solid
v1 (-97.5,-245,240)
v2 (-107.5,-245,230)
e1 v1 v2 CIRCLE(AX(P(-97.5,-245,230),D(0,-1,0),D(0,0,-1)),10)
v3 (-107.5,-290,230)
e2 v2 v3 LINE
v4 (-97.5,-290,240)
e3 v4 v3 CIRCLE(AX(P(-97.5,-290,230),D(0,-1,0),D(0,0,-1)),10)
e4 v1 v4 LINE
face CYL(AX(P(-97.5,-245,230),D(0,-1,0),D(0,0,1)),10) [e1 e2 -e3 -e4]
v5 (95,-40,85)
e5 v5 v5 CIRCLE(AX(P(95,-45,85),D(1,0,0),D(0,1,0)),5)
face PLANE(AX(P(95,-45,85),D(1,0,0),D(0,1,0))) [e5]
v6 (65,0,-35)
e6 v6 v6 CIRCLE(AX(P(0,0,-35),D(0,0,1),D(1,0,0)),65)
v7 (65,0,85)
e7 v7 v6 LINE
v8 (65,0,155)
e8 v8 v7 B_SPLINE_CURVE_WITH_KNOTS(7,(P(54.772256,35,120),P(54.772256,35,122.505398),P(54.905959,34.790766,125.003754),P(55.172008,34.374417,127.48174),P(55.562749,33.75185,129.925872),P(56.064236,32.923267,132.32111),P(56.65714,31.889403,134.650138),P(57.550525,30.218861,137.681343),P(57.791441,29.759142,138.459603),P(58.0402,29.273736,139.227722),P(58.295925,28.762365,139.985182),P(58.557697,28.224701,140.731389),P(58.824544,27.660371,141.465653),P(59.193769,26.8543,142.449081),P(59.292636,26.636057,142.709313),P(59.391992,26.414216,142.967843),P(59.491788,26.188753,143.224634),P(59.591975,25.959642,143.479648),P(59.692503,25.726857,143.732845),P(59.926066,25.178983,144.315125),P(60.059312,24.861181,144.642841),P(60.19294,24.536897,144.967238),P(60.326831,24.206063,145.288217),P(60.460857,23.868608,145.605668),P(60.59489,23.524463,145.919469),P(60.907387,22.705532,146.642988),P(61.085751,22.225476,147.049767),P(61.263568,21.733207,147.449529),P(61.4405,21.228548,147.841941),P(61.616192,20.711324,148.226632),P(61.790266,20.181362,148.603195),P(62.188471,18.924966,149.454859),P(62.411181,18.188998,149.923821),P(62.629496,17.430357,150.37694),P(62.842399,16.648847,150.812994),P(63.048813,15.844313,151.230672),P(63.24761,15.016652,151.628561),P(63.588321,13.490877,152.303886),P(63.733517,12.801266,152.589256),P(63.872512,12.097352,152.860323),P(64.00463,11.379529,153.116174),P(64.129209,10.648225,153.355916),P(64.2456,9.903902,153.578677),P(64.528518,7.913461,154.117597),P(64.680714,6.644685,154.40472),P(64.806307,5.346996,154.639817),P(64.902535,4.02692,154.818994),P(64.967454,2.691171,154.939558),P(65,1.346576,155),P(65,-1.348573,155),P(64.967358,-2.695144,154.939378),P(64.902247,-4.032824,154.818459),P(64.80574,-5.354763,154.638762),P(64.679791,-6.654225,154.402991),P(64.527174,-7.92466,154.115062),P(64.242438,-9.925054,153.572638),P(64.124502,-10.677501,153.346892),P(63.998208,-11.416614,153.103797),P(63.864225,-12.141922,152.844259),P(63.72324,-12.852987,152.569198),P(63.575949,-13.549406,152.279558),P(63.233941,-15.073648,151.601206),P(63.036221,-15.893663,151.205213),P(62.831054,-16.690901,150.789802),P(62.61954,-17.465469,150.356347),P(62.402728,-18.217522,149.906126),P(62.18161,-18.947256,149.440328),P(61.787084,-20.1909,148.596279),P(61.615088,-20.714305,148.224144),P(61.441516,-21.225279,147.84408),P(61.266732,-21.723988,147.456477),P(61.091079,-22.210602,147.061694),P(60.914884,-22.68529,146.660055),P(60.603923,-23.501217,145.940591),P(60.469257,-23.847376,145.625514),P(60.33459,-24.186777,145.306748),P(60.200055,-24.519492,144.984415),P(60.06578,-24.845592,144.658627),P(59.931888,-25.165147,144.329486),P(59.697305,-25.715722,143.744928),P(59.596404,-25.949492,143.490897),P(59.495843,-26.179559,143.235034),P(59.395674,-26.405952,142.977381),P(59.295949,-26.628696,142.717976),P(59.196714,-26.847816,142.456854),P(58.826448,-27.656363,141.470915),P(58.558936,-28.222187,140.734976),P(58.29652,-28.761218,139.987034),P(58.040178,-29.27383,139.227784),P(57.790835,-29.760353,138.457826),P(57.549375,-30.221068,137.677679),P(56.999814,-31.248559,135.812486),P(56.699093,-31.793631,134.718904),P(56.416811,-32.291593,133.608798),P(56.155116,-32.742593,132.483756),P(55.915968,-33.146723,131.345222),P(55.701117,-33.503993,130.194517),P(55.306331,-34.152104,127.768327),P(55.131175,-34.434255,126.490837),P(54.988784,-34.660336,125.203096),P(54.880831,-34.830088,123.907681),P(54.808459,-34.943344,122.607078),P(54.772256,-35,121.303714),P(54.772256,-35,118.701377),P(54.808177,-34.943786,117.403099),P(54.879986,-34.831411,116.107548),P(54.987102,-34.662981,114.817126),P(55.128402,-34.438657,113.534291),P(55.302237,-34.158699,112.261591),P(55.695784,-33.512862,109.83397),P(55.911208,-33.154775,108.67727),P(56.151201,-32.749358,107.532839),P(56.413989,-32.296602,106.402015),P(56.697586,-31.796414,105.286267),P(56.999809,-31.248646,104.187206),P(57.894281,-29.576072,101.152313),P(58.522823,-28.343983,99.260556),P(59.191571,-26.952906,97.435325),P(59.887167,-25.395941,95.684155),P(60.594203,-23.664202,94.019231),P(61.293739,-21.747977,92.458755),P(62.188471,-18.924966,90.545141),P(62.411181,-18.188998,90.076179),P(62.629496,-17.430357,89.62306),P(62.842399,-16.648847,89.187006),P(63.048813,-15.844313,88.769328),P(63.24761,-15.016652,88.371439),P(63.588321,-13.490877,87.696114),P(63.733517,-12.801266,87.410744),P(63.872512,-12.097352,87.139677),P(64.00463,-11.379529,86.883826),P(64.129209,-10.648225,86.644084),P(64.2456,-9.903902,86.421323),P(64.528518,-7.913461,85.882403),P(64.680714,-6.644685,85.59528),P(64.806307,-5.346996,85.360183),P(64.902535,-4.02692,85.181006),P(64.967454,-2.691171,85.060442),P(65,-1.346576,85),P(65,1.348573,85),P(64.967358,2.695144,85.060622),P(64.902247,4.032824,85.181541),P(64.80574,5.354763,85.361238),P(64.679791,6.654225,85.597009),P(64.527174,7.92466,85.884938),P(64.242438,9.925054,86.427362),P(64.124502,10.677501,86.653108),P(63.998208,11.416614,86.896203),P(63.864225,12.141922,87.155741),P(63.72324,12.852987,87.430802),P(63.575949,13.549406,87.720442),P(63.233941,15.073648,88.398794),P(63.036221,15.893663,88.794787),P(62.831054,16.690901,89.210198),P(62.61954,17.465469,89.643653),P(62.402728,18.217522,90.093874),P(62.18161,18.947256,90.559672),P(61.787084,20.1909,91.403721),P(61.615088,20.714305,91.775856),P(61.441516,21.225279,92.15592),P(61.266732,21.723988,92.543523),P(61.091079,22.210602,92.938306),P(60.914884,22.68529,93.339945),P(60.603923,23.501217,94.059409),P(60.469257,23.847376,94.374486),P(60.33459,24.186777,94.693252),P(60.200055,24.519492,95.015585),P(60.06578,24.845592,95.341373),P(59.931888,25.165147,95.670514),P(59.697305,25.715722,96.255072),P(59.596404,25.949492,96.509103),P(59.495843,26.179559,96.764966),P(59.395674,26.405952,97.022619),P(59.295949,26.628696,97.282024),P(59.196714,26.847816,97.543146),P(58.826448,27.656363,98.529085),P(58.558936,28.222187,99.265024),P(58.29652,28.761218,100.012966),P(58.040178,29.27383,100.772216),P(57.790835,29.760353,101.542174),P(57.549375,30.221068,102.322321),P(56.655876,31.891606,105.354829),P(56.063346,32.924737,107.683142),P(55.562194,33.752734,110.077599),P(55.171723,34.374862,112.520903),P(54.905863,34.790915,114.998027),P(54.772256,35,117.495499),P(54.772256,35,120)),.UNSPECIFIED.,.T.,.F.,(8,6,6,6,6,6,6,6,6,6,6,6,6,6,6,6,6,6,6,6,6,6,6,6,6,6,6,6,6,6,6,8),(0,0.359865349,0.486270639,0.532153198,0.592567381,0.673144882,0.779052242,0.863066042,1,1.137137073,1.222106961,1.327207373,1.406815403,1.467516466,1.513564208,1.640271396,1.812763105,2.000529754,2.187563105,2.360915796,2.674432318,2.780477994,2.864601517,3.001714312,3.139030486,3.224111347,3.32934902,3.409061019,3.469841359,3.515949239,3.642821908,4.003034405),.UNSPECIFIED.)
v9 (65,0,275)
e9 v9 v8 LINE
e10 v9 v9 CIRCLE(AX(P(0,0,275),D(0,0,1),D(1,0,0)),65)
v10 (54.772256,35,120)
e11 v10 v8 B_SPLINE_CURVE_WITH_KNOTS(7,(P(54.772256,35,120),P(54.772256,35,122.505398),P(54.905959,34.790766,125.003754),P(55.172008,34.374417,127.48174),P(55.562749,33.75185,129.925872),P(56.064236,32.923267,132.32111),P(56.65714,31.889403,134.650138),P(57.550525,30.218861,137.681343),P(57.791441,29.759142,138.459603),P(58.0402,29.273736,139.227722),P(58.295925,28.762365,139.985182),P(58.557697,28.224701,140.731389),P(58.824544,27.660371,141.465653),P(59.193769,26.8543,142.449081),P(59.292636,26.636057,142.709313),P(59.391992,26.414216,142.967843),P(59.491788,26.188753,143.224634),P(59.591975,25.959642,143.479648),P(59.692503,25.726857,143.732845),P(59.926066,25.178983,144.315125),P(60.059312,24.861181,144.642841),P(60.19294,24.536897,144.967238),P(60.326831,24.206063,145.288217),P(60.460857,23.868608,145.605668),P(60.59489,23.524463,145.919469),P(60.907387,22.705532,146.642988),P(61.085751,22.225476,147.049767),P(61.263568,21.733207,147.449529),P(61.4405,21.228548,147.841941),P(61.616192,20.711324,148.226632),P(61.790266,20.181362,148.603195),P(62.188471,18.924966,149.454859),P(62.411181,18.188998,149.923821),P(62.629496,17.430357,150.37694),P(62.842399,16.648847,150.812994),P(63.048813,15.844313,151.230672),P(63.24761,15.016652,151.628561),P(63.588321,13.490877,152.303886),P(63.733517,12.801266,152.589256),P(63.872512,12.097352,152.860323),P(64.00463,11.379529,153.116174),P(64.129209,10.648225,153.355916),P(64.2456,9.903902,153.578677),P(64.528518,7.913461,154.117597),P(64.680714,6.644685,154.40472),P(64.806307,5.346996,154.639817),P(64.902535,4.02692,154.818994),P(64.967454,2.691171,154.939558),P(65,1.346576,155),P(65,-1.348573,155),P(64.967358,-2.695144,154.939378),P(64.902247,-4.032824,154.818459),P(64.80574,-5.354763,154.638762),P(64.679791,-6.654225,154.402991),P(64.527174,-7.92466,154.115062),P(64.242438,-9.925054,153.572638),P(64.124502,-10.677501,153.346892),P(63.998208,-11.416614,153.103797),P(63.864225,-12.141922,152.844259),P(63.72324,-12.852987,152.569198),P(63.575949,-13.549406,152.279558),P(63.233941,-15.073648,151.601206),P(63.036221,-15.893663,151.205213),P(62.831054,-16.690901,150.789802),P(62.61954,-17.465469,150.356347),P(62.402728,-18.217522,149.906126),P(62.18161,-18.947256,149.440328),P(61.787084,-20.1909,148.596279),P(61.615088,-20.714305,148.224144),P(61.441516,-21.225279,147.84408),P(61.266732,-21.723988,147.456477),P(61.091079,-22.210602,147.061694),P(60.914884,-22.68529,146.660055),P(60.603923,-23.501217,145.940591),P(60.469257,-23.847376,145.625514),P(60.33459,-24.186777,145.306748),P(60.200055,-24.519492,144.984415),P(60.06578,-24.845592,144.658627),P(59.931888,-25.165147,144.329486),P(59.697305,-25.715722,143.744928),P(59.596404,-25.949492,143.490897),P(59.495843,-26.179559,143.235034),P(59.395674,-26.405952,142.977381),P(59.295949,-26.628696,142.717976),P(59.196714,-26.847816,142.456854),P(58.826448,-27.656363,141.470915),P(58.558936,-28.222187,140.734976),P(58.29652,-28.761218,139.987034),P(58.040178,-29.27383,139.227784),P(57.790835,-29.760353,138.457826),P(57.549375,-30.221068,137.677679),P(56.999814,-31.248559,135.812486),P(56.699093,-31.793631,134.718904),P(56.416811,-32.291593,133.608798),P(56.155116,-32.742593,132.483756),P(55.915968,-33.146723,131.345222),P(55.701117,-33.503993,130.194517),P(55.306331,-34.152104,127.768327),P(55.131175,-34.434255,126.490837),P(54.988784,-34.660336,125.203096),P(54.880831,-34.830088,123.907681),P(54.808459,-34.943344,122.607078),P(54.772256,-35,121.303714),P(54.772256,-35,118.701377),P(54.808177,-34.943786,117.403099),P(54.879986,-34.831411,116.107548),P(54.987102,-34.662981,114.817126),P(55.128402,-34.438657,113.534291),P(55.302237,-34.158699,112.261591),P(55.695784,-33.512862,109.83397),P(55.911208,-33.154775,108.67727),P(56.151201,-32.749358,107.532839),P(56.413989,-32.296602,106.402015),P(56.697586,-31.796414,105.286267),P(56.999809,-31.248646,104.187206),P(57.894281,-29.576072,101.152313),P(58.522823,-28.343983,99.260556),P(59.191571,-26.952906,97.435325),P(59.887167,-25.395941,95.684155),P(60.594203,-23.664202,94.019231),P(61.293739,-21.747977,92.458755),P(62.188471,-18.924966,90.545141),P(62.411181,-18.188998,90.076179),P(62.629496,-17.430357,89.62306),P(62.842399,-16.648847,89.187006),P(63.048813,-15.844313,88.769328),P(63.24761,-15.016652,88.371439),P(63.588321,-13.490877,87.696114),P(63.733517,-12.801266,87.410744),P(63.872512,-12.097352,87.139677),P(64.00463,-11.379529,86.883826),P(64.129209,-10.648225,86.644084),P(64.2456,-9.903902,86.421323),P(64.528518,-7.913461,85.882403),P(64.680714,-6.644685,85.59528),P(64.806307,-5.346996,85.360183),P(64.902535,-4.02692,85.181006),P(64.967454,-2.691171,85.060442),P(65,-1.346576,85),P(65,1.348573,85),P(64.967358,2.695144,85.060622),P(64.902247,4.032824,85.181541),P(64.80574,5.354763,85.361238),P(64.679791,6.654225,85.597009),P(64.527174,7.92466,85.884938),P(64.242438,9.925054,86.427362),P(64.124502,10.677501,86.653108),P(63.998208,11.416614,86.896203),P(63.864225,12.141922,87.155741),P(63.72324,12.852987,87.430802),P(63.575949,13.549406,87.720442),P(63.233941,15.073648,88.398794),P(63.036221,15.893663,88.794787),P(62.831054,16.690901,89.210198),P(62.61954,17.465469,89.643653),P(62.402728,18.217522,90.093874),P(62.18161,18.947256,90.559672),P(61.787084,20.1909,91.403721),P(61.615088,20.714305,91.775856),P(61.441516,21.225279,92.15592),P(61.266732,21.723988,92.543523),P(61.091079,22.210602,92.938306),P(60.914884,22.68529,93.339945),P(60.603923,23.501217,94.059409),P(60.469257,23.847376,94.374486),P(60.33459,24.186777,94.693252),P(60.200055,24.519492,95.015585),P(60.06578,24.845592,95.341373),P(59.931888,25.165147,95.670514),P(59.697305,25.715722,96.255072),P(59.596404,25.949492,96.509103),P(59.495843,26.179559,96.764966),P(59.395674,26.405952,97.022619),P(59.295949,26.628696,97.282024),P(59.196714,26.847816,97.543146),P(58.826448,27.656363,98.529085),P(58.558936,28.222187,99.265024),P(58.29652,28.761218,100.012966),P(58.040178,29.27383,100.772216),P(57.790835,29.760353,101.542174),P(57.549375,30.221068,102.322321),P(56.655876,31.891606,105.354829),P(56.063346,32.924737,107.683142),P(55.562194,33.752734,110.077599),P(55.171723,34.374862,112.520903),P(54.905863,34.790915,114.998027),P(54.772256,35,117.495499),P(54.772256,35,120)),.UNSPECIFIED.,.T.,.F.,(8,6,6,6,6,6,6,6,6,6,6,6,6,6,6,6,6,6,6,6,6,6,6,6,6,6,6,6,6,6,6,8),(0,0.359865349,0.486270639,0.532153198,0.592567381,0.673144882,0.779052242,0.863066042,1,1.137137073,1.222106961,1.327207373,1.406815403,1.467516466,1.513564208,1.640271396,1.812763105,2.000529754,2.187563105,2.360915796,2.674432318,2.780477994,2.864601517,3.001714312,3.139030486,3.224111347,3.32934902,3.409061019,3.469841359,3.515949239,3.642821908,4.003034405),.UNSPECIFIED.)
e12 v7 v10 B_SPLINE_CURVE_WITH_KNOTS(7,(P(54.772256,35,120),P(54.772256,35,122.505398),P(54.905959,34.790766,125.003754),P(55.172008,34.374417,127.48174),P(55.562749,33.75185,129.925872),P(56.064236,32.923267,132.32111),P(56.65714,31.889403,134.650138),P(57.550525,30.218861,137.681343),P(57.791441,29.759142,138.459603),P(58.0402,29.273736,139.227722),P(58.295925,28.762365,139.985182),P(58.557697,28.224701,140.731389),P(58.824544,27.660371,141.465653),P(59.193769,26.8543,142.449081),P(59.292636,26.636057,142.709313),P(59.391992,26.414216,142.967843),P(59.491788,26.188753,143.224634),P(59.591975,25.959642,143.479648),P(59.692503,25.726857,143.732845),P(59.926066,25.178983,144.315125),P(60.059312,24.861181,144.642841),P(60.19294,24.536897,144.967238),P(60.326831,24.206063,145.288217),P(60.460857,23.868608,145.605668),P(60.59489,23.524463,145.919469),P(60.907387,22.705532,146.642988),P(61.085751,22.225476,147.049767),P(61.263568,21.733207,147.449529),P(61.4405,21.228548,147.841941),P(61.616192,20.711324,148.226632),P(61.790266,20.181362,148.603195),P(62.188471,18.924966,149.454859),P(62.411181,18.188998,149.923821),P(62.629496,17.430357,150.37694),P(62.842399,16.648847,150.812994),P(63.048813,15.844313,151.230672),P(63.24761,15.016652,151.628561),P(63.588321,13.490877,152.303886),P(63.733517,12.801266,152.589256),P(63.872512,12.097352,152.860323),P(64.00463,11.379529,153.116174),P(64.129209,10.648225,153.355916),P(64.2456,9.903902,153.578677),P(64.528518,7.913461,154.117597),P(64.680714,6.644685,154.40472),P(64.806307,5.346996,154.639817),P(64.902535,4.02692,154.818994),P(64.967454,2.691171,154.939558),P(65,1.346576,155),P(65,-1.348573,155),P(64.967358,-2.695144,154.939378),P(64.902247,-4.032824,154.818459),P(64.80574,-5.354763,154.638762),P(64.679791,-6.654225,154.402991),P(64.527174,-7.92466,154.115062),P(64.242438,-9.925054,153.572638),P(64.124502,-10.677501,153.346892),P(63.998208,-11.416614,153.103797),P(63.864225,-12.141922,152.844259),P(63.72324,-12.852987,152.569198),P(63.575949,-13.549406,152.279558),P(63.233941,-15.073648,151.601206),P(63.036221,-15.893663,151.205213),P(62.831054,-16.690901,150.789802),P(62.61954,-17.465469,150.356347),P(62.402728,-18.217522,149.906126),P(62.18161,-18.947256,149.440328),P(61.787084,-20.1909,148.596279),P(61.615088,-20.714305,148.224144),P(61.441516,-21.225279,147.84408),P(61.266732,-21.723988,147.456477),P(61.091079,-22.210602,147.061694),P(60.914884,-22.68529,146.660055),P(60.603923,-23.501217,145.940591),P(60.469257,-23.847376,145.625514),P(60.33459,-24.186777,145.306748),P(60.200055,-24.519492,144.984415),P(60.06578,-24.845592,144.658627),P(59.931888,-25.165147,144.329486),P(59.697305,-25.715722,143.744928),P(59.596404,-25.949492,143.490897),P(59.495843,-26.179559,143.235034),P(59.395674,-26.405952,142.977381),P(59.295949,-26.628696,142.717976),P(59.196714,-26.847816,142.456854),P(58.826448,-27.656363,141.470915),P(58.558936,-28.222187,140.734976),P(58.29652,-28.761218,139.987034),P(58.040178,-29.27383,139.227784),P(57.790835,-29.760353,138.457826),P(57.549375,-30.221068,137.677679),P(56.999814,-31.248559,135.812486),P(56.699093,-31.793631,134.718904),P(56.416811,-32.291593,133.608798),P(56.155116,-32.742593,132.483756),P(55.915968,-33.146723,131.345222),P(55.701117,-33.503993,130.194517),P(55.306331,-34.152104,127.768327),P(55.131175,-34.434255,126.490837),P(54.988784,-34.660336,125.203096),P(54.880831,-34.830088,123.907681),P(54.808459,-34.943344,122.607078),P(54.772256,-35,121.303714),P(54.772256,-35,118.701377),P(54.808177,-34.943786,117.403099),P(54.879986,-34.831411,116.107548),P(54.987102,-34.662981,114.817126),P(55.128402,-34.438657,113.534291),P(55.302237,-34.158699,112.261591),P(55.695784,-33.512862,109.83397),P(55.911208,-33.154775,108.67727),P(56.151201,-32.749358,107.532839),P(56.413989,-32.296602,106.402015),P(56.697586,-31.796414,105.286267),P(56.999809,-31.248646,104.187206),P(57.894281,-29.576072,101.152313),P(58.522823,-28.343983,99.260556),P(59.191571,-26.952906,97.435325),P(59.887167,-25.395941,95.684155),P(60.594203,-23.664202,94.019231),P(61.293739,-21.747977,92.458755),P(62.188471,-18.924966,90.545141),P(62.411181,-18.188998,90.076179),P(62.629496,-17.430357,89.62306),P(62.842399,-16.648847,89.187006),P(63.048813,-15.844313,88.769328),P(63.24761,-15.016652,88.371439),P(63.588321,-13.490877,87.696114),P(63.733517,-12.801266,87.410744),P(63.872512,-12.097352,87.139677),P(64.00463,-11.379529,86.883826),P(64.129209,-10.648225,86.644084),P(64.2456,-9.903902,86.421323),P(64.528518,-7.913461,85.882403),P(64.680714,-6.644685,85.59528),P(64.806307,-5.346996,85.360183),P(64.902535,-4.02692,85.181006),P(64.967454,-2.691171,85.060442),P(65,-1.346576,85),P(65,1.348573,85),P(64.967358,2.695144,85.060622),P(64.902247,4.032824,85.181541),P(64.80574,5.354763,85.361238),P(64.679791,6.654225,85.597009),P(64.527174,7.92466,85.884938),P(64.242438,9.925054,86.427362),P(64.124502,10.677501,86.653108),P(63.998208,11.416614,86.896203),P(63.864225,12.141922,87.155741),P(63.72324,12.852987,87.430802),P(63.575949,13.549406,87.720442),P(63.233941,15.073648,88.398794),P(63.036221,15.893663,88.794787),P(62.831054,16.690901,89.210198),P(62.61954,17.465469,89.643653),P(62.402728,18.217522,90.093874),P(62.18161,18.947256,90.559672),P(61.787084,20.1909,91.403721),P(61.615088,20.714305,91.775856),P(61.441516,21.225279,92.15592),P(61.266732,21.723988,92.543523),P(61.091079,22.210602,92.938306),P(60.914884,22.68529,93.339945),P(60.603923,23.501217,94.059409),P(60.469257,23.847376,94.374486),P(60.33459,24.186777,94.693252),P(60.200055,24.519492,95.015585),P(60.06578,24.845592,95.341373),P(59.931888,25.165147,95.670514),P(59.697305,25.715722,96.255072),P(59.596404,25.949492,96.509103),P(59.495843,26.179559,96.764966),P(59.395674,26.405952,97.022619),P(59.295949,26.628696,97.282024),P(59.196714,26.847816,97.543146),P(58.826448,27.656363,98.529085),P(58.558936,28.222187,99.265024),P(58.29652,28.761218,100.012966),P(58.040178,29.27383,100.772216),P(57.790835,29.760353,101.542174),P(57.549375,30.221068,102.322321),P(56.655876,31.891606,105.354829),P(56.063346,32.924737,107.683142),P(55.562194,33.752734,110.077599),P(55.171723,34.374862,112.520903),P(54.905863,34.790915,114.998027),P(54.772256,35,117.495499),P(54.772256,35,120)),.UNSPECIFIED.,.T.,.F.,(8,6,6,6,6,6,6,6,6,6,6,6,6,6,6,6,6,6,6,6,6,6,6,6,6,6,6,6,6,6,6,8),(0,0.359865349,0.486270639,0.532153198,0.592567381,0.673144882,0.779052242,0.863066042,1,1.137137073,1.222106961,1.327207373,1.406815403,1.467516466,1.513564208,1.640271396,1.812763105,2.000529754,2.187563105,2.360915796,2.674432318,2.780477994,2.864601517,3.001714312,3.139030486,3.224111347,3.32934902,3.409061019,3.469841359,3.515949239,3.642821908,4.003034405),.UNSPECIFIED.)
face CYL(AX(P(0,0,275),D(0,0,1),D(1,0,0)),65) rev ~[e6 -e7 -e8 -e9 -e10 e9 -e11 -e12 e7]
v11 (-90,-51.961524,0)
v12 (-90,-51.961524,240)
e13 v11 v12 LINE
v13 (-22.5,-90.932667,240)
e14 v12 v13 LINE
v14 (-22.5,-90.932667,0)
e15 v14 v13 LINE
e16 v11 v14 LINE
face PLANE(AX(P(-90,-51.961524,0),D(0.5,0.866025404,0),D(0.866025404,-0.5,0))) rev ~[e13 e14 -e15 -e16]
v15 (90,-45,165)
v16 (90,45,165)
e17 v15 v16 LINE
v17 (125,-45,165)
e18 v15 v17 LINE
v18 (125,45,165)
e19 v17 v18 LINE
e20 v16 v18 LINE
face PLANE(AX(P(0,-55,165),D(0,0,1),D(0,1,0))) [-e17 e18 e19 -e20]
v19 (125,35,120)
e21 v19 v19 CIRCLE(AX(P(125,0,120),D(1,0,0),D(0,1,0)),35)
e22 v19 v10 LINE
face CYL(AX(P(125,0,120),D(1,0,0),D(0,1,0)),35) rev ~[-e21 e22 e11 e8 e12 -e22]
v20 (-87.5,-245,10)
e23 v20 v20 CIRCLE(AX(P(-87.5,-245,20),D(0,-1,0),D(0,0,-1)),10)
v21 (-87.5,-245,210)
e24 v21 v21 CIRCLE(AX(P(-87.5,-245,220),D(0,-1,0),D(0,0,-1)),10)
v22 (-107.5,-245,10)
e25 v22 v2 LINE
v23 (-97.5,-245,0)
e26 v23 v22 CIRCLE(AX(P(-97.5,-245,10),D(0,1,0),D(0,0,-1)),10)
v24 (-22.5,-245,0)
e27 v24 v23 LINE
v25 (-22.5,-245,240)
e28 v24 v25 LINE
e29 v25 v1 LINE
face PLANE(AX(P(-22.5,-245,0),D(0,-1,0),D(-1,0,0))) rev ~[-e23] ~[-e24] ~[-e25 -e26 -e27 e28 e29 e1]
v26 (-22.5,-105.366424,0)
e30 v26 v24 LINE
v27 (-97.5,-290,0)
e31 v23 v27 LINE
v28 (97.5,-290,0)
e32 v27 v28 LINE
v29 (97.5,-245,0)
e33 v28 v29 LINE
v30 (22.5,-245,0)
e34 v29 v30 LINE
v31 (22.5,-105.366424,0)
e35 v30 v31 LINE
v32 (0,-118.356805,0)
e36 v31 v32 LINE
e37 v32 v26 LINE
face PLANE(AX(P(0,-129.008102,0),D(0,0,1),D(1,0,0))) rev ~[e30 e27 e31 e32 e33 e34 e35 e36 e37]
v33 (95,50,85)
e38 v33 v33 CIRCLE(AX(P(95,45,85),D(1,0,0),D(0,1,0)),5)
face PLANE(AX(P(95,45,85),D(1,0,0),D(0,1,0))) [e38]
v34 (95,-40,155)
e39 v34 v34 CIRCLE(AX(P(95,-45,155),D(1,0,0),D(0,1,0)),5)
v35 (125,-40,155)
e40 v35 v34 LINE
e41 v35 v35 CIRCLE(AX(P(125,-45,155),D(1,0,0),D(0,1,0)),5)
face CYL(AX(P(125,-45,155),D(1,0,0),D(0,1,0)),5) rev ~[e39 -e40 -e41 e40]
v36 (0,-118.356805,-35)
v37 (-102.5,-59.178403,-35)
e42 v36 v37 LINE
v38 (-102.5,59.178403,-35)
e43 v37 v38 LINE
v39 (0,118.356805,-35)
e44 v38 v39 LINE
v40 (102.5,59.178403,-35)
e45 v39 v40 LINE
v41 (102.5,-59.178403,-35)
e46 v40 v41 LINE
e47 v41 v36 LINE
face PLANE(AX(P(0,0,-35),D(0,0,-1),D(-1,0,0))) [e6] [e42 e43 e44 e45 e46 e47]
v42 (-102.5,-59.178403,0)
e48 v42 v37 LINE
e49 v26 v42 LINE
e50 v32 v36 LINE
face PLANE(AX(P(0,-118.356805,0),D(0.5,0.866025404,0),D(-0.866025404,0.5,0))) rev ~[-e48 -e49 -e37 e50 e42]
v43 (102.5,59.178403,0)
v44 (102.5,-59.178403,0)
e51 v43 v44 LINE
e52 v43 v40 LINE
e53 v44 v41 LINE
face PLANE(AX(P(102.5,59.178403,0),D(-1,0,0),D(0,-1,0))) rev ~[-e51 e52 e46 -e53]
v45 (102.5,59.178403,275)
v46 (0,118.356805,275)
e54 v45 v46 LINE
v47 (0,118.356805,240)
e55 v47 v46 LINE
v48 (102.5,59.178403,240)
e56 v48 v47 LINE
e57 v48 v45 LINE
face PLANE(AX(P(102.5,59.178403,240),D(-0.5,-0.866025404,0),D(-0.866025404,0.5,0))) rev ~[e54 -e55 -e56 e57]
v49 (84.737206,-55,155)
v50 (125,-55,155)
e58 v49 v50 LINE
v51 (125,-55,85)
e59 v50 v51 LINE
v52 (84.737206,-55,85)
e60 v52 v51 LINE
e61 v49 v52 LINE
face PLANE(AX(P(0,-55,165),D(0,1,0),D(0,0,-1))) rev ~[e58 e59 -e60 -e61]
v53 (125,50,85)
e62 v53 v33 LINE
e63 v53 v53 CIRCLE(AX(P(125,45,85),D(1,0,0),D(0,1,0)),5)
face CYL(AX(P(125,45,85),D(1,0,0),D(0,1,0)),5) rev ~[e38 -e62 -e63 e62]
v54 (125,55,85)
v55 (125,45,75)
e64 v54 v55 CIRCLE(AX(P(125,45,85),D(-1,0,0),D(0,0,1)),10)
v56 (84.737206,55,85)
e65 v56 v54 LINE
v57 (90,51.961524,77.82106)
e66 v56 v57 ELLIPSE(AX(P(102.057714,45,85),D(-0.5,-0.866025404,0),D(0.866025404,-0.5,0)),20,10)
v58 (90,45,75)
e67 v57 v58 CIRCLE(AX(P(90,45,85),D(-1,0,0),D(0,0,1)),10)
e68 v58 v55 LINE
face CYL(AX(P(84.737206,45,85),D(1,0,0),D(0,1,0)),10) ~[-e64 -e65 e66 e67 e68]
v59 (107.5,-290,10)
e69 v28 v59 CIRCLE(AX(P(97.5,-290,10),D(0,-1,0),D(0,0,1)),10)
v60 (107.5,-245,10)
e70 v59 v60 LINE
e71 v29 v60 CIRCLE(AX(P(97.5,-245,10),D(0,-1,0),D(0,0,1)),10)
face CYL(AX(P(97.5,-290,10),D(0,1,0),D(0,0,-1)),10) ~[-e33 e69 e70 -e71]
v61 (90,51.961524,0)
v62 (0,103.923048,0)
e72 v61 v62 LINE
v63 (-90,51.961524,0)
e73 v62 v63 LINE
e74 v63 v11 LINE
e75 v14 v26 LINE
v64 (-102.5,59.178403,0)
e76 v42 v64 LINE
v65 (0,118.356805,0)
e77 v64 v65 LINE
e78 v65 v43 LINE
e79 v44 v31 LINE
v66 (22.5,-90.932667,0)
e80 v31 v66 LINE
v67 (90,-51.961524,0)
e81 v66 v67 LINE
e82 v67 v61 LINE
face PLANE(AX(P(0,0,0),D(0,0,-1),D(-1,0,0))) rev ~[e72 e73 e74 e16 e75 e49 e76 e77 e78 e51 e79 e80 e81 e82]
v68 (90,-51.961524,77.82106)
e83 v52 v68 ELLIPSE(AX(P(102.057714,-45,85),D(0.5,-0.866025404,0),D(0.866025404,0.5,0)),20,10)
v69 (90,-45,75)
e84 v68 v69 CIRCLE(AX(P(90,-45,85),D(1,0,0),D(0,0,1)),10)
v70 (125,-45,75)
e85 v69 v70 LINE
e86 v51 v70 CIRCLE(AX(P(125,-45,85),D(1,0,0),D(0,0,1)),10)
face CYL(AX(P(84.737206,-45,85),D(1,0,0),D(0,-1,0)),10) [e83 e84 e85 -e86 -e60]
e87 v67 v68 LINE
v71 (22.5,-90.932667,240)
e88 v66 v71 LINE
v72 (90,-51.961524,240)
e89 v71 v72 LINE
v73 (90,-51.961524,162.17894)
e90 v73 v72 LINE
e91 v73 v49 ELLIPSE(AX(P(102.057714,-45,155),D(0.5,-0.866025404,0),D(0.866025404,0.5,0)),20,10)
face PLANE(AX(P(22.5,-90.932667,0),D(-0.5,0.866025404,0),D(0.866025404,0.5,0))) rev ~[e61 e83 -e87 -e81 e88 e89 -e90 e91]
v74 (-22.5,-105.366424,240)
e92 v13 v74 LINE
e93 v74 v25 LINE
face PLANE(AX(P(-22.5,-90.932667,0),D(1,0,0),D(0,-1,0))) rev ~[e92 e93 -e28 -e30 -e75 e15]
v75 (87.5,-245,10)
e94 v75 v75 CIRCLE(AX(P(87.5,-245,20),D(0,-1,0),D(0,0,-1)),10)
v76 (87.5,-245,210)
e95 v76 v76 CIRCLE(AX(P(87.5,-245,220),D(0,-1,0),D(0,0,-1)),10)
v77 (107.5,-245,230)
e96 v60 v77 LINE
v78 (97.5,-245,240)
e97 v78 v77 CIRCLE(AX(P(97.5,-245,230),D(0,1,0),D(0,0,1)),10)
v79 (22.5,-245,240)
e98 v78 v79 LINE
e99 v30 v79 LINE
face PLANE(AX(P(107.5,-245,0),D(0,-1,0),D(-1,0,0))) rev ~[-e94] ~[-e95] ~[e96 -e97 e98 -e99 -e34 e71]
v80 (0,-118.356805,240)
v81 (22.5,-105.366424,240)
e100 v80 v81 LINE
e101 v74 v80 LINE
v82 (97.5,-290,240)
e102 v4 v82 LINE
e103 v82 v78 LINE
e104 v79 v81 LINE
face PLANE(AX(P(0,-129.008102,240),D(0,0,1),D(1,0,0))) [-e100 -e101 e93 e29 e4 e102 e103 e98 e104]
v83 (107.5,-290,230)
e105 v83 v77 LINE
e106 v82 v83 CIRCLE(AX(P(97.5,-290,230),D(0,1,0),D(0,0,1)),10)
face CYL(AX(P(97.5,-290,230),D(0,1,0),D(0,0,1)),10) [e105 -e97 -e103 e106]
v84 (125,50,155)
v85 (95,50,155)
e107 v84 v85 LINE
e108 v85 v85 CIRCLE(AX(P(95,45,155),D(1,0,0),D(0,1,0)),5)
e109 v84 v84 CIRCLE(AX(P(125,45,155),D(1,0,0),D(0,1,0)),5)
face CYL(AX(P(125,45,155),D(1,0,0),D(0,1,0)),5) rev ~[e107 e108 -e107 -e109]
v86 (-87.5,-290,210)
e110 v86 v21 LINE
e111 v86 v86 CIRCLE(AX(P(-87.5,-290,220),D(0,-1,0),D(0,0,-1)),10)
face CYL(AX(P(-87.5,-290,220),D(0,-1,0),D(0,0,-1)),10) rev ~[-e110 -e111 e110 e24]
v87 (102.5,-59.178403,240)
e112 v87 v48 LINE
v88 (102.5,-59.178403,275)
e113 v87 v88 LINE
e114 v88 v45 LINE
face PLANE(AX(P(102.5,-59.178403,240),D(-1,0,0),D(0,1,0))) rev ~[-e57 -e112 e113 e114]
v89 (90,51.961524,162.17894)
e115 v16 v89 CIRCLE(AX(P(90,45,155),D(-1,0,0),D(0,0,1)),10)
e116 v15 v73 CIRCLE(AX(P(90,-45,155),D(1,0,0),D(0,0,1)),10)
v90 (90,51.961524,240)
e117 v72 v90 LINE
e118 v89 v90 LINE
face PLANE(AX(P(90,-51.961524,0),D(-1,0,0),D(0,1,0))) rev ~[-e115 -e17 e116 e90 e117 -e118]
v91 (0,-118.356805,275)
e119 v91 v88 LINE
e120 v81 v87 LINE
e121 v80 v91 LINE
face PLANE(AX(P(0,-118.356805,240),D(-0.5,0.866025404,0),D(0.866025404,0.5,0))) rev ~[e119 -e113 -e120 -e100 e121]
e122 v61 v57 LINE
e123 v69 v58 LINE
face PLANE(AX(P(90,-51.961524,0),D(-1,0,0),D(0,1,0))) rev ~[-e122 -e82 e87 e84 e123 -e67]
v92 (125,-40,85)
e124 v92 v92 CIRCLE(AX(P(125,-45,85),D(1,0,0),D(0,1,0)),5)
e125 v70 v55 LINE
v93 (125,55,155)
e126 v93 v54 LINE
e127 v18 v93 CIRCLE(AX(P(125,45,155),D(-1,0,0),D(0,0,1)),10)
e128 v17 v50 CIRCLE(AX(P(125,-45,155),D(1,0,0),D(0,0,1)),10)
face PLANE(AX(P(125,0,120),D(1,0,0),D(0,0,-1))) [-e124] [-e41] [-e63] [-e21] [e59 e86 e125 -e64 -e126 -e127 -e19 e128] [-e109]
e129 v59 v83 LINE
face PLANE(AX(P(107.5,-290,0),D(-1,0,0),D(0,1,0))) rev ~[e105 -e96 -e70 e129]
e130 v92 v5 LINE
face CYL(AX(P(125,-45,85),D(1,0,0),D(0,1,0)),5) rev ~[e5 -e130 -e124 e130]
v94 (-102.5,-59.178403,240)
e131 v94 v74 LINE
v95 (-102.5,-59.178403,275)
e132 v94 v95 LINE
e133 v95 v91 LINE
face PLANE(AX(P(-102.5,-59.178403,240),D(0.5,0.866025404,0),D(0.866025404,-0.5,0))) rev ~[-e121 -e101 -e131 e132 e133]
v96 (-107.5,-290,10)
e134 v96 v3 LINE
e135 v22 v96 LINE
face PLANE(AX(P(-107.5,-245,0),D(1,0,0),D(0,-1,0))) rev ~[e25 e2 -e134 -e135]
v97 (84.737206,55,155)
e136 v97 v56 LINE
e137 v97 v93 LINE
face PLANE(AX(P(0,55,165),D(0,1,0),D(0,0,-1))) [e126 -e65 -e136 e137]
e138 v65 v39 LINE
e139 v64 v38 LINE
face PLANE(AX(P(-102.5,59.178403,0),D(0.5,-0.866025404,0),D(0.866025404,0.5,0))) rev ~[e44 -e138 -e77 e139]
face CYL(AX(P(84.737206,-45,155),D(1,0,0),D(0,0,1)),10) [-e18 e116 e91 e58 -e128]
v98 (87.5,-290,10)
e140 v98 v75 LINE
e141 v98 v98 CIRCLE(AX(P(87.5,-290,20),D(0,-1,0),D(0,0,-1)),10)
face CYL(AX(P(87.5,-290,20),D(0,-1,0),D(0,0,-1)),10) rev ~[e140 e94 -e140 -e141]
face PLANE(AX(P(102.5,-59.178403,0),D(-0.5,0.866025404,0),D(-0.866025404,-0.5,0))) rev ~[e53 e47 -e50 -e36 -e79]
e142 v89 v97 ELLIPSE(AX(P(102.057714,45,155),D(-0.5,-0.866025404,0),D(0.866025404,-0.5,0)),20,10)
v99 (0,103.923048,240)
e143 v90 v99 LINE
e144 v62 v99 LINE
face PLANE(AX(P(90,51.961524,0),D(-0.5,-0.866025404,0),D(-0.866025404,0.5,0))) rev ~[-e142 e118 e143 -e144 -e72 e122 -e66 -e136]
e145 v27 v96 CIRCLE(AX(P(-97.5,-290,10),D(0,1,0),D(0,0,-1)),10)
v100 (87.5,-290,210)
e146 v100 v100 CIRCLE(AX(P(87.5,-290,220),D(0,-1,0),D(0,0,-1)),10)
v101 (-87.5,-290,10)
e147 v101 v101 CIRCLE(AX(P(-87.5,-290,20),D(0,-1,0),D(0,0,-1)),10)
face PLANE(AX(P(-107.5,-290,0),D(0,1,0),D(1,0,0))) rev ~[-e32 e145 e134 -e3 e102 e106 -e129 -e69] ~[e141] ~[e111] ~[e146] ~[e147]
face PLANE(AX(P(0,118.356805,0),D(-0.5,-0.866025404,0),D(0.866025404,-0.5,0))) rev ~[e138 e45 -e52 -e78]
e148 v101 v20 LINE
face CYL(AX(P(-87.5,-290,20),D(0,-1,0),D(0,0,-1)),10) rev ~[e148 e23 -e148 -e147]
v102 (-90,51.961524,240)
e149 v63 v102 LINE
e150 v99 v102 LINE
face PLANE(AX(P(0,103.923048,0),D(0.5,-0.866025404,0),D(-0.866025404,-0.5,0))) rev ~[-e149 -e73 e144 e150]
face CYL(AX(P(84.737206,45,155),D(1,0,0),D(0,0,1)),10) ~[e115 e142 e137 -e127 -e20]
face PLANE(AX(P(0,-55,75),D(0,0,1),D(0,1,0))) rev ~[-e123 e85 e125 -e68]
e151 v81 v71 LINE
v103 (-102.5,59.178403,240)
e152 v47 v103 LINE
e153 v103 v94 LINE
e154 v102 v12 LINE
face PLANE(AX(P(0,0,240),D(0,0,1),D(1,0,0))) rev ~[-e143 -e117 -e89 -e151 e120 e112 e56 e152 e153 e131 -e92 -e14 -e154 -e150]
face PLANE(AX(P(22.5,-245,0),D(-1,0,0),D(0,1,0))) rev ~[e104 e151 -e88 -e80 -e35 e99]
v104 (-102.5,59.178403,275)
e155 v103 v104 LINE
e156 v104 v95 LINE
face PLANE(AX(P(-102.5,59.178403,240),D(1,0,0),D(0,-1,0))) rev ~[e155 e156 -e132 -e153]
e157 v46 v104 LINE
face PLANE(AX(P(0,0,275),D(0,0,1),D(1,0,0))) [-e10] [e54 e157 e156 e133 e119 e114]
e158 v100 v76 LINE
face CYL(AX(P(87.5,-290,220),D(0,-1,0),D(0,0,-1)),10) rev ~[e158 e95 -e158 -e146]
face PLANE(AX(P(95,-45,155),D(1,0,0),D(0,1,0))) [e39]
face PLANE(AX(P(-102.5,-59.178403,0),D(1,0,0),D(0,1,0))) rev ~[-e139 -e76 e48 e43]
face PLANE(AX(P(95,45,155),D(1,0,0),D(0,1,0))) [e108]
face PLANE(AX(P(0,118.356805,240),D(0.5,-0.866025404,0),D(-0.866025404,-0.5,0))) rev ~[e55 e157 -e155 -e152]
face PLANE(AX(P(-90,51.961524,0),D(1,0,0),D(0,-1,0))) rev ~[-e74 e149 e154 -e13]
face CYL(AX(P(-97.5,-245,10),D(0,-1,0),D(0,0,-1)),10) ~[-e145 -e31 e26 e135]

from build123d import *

# Parameters (mm, degrees)
EXTRUDE_1_DEPTH          = 240
EXTRUDE_2_DEPTH          = 35
EXTRUDE_4_DEPTH          = 35
EXTRUDE_5_DEPTH          = 35
EXTRUDE_5_DEPTH_BACK     = 90
SKETCH_5_W               = 90
SKETCH_5_H               = 110
SKETCH_6_R               = 65
CUT_EXTRUDE_1_DEPTH      = 443.521185934
CUT_EXTRUDE_2_REACH      = 464.365
CUT_EXTRUDE_2_END_RADIUS = 65
SKETCH_8_R               = 35
CUT_EXTRUDE_3_REACH      = 509.942
SKETCH_9_R               = 10
SKETCH_10_R              = 5
CUT_EXTRUDE_4_DEPTH      = 30
FILLET_1_R               = 10
FILLET_2_R               = 10


with BuildPart() as part:
    # Эскиз1 → Бобышка-Вытянуть1 (new body)
    with BuildSketch(Plane.XY):
        Polygon((0, 103.923048454), (-90, 51.961524227), (-90, -51.961524227), (-22.5, -90.932667397), (-22.5, -245), (-107.5, -245), (-107.5, -290), (107.5, -290), (107.5, -245), (22.5, -245), (22.5, -90.932667397), (90, -51.961524227), (90, 51.961524227), align=None)
    extrude(amount=EXTRUDE_1_DEPTH)

    # Эскиз2 → Бобышка-Вытянуть2 (add)
    with BuildSketch(Plane.XY.offset(240)):
        Polygon((0, 118.356805184), (-102.5, 59.178402592), (-102.5, -59.178402592), (0, -118.356805184), (102.5, -59.178402592), (102.5, 59.178402592), align=None)
    extrude(amount=EXTRUDE_2_DEPTH)

    # Эскиз4 → Бобышка-Вытянуть4 (add)
    with BuildSketch(Plane(origin=(0, 0, 0), x_dir=(-1, 0, 0), z_dir=(0, 0, -1))):
        Polygon((0, 118.356805184), (-102.5, 59.178402592), (-102.5, -59.178402592), (0, -118.356805184), (102.5, -59.178402592), (102.5, 59.178402592), align=None)
    extrude(amount=EXTRUDE_4_DEPTH)

    # Эскиз5 → Бобышка-Вытянуть5 (add, two sides: drawn at the far end of the back side and taken through both)
    with BuildSketch(Plane(origin=(90, 0, 0), x_dir=(0, 0, -1), z_dir=(1, 0, 0)).offset(-EXTRUDE_5_DEPTH_BACK)):
        with Locations((-120, 0)):
            Rectangle(SKETCH_5_W, SKETCH_5_H)
    extrude(amount=EXTRUDE_5_DEPTH + EXTRUDE_5_DEPTH_BACK)

    # Эскиз6 → Вырез-Вытянуть1 (cut, through all)
    with BuildSketch(Plane.XY.offset(275)):
        Circle(SKETCH_6_R)
    extrude(amount=-CUT_EXTRUDE_1_DEPTH, mode=Mode.SUBTRACT)

    # Вырез-Вытянуть2: up to this cylinder (the profile starts outside it)
    cut_extrude_2_end = Plane(origin=(0, 0, 120), z_dir=(0, 0, 1)) * Cylinder(CUT_EXTRUDE_2_END_RADIUS, 1059.73, mode=Mode.PRIVATE)
    # Эскиз8 → Вырез-Вытянуть2 (cut, up to the surface)
    with BuildSketch(Plane(origin=(125, 0, 0), x_dir=(0, 0, -1), z_dir=(1, 0, 0)), mode=Mode.PRIVATE) as cut_extrude_2_sk1:
        with Locations(Location((-120, 0, 0), (0, 0, 90))):
            Circle(SKETCH_8_R)
    cut_extrude_2_tool1 = extrude(cut_extrude_2_sk1.sketch, amount=-CUT_EXTRUDE_2_REACH, mode=Mode.PRIVATE) - cut_extrude_2_end
    add(cut_extrude_2_tool1.solids().sort_by_distance((125, 0, 120))[0], mode=Mode.SUBTRACT)

    # Эскиз9 → Вырез-Вытянуть3 (cut, up to next)
    with BuildSketch(Plane.XZ.offset(290), mode=Mode.PRIVATE) as cut_extrude_3_sk1:
        with Locations(Location((87.5, 220, 0), (0, 0, 270))):
            Circle(SKETCH_9_R)
    cut_extrude_3_tool1 = extrude(cut_extrude_3_sk1.sketch, amount=-CUT_EXTRUDE_3_REACH, mode=Mode.PRIVATE) & part.part
    # Эскиз9 → Вырез-Вытянуть3 (cut, up to next)
    with BuildSketch(Plane.XZ.offset(290), mode=Mode.PRIVATE) as cut_extrude_3_sk2:
        with Locations(Location((-87.5, 220, 0), (0, 0, 270))):
            Circle(SKETCH_9_R)
    cut_extrude_3_tool2 = extrude(cut_extrude_3_sk2.sketch, amount=-CUT_EXTRUDE_3_REACH, mode=Mode.PRIVATE) & part.part
    # Эскиз9 → Вырез-Вытянуть3 (cut, up to next)
    with BuildSketch(Plane.XZ.offset(290), mode=Mode.PRIVATE) as cut_extrude_3_sk3:
        with Locations(Location((87.5, 20, 0), (0, 0, 270))):
            Circle(SKETCH_9_R)
    cut_extrude_3_tool3 = extrude(cut_extrude_3_sk3.sketch, amount=-CUT_EXTRUDE_3_REACH, mode=Mode.PRIVATE) & part.part
    # Эскиз9 → Вырез-Вытянуть3 (cut, up to next)
    with BuildSketch(Plane.XZ.offset(290), mode=Mode.PRIVATE) as cut_extrude_3_sk4:
        with Locations(Location((-87.5, 20, 0), (0, 0, 270))):
            Circle(SKETCH_9_R)
    cut_extrude_3_tool4 = extrude(cut_extrude_3_sk4.sketch, amount=-CUT_EXTRUDE_3_REACH, mode=Mode.PRIVATE) & part.part
    add(cut_extrude_3_tool1.solids().sort_by_distance((87.5, -290, 220))[0], mode=Mode.SUBTRACT)
    add(cut_extrude_3_tool2.solids().sort_by_distance((-87.5, -290, 220))[0], mode=Mode.SUBTRACT)
    add(cut_extrude_3_tool3.solids().sort_by_distance((87.5, -290, 20))[0], mode=Mode.SUBTRACT)
    add(cut_extrude_3_tool4.solids().sort_by_distance((-87.5, -290, 20))[0], mode=Mode.SUBTRACT)

    # Эскиз10 → Вырез-Вытянуть4 (cut)
    with BuildSketch(Plane(origin=(125, 0, 0), x_dir=(0, 0, -1), z_dir=(1, 0, 0))):
        with Locations(Location((-155, -45, 0), (0, 0, 90))):
            Circle(SKETCH_10_R)
        with Locations(Location((-155, 45, 0), (0, 0, 90))):
            Circle(SKETCH_10_R)
        with Locations(Location((-85, 45, 0), (0, 0, 90))):
            Circle(SKETCH_10_R)
        with Locations(Location((-85, -45, 0), (0, 0, 90))):
            Circle(SKETCH_10_R)
    extrude(amount=-CUT_EXTRUDE_4_DEPTH, mode=Mode.SUBTRACT)

    # Скругление1
    fillet_1_edges = [part.edges().sort_by_distance(p)[0] for p in [
        (104.868602792, -55, 165),
        (104.868602792, -55, 75),
        (104.868602792, 55, 75),
        (104.868602792, 55, 165),
    ]]
    fillet(fillet_1_edges, radius=FILLET_1_R)

    # Скругление2
    fillet_2_edges = [part.edges().sort_by_distance(p)[0] for p in [
        (107.5, -267.5, 0),
        (-107.5, -267.5, 0),
        (-107.5, -267.5, 240),
        (107.5, -267.5, 240),
    ]]
    fillet(fillet_2_edges, radius=FILLET_2_R)


solid = part.part
